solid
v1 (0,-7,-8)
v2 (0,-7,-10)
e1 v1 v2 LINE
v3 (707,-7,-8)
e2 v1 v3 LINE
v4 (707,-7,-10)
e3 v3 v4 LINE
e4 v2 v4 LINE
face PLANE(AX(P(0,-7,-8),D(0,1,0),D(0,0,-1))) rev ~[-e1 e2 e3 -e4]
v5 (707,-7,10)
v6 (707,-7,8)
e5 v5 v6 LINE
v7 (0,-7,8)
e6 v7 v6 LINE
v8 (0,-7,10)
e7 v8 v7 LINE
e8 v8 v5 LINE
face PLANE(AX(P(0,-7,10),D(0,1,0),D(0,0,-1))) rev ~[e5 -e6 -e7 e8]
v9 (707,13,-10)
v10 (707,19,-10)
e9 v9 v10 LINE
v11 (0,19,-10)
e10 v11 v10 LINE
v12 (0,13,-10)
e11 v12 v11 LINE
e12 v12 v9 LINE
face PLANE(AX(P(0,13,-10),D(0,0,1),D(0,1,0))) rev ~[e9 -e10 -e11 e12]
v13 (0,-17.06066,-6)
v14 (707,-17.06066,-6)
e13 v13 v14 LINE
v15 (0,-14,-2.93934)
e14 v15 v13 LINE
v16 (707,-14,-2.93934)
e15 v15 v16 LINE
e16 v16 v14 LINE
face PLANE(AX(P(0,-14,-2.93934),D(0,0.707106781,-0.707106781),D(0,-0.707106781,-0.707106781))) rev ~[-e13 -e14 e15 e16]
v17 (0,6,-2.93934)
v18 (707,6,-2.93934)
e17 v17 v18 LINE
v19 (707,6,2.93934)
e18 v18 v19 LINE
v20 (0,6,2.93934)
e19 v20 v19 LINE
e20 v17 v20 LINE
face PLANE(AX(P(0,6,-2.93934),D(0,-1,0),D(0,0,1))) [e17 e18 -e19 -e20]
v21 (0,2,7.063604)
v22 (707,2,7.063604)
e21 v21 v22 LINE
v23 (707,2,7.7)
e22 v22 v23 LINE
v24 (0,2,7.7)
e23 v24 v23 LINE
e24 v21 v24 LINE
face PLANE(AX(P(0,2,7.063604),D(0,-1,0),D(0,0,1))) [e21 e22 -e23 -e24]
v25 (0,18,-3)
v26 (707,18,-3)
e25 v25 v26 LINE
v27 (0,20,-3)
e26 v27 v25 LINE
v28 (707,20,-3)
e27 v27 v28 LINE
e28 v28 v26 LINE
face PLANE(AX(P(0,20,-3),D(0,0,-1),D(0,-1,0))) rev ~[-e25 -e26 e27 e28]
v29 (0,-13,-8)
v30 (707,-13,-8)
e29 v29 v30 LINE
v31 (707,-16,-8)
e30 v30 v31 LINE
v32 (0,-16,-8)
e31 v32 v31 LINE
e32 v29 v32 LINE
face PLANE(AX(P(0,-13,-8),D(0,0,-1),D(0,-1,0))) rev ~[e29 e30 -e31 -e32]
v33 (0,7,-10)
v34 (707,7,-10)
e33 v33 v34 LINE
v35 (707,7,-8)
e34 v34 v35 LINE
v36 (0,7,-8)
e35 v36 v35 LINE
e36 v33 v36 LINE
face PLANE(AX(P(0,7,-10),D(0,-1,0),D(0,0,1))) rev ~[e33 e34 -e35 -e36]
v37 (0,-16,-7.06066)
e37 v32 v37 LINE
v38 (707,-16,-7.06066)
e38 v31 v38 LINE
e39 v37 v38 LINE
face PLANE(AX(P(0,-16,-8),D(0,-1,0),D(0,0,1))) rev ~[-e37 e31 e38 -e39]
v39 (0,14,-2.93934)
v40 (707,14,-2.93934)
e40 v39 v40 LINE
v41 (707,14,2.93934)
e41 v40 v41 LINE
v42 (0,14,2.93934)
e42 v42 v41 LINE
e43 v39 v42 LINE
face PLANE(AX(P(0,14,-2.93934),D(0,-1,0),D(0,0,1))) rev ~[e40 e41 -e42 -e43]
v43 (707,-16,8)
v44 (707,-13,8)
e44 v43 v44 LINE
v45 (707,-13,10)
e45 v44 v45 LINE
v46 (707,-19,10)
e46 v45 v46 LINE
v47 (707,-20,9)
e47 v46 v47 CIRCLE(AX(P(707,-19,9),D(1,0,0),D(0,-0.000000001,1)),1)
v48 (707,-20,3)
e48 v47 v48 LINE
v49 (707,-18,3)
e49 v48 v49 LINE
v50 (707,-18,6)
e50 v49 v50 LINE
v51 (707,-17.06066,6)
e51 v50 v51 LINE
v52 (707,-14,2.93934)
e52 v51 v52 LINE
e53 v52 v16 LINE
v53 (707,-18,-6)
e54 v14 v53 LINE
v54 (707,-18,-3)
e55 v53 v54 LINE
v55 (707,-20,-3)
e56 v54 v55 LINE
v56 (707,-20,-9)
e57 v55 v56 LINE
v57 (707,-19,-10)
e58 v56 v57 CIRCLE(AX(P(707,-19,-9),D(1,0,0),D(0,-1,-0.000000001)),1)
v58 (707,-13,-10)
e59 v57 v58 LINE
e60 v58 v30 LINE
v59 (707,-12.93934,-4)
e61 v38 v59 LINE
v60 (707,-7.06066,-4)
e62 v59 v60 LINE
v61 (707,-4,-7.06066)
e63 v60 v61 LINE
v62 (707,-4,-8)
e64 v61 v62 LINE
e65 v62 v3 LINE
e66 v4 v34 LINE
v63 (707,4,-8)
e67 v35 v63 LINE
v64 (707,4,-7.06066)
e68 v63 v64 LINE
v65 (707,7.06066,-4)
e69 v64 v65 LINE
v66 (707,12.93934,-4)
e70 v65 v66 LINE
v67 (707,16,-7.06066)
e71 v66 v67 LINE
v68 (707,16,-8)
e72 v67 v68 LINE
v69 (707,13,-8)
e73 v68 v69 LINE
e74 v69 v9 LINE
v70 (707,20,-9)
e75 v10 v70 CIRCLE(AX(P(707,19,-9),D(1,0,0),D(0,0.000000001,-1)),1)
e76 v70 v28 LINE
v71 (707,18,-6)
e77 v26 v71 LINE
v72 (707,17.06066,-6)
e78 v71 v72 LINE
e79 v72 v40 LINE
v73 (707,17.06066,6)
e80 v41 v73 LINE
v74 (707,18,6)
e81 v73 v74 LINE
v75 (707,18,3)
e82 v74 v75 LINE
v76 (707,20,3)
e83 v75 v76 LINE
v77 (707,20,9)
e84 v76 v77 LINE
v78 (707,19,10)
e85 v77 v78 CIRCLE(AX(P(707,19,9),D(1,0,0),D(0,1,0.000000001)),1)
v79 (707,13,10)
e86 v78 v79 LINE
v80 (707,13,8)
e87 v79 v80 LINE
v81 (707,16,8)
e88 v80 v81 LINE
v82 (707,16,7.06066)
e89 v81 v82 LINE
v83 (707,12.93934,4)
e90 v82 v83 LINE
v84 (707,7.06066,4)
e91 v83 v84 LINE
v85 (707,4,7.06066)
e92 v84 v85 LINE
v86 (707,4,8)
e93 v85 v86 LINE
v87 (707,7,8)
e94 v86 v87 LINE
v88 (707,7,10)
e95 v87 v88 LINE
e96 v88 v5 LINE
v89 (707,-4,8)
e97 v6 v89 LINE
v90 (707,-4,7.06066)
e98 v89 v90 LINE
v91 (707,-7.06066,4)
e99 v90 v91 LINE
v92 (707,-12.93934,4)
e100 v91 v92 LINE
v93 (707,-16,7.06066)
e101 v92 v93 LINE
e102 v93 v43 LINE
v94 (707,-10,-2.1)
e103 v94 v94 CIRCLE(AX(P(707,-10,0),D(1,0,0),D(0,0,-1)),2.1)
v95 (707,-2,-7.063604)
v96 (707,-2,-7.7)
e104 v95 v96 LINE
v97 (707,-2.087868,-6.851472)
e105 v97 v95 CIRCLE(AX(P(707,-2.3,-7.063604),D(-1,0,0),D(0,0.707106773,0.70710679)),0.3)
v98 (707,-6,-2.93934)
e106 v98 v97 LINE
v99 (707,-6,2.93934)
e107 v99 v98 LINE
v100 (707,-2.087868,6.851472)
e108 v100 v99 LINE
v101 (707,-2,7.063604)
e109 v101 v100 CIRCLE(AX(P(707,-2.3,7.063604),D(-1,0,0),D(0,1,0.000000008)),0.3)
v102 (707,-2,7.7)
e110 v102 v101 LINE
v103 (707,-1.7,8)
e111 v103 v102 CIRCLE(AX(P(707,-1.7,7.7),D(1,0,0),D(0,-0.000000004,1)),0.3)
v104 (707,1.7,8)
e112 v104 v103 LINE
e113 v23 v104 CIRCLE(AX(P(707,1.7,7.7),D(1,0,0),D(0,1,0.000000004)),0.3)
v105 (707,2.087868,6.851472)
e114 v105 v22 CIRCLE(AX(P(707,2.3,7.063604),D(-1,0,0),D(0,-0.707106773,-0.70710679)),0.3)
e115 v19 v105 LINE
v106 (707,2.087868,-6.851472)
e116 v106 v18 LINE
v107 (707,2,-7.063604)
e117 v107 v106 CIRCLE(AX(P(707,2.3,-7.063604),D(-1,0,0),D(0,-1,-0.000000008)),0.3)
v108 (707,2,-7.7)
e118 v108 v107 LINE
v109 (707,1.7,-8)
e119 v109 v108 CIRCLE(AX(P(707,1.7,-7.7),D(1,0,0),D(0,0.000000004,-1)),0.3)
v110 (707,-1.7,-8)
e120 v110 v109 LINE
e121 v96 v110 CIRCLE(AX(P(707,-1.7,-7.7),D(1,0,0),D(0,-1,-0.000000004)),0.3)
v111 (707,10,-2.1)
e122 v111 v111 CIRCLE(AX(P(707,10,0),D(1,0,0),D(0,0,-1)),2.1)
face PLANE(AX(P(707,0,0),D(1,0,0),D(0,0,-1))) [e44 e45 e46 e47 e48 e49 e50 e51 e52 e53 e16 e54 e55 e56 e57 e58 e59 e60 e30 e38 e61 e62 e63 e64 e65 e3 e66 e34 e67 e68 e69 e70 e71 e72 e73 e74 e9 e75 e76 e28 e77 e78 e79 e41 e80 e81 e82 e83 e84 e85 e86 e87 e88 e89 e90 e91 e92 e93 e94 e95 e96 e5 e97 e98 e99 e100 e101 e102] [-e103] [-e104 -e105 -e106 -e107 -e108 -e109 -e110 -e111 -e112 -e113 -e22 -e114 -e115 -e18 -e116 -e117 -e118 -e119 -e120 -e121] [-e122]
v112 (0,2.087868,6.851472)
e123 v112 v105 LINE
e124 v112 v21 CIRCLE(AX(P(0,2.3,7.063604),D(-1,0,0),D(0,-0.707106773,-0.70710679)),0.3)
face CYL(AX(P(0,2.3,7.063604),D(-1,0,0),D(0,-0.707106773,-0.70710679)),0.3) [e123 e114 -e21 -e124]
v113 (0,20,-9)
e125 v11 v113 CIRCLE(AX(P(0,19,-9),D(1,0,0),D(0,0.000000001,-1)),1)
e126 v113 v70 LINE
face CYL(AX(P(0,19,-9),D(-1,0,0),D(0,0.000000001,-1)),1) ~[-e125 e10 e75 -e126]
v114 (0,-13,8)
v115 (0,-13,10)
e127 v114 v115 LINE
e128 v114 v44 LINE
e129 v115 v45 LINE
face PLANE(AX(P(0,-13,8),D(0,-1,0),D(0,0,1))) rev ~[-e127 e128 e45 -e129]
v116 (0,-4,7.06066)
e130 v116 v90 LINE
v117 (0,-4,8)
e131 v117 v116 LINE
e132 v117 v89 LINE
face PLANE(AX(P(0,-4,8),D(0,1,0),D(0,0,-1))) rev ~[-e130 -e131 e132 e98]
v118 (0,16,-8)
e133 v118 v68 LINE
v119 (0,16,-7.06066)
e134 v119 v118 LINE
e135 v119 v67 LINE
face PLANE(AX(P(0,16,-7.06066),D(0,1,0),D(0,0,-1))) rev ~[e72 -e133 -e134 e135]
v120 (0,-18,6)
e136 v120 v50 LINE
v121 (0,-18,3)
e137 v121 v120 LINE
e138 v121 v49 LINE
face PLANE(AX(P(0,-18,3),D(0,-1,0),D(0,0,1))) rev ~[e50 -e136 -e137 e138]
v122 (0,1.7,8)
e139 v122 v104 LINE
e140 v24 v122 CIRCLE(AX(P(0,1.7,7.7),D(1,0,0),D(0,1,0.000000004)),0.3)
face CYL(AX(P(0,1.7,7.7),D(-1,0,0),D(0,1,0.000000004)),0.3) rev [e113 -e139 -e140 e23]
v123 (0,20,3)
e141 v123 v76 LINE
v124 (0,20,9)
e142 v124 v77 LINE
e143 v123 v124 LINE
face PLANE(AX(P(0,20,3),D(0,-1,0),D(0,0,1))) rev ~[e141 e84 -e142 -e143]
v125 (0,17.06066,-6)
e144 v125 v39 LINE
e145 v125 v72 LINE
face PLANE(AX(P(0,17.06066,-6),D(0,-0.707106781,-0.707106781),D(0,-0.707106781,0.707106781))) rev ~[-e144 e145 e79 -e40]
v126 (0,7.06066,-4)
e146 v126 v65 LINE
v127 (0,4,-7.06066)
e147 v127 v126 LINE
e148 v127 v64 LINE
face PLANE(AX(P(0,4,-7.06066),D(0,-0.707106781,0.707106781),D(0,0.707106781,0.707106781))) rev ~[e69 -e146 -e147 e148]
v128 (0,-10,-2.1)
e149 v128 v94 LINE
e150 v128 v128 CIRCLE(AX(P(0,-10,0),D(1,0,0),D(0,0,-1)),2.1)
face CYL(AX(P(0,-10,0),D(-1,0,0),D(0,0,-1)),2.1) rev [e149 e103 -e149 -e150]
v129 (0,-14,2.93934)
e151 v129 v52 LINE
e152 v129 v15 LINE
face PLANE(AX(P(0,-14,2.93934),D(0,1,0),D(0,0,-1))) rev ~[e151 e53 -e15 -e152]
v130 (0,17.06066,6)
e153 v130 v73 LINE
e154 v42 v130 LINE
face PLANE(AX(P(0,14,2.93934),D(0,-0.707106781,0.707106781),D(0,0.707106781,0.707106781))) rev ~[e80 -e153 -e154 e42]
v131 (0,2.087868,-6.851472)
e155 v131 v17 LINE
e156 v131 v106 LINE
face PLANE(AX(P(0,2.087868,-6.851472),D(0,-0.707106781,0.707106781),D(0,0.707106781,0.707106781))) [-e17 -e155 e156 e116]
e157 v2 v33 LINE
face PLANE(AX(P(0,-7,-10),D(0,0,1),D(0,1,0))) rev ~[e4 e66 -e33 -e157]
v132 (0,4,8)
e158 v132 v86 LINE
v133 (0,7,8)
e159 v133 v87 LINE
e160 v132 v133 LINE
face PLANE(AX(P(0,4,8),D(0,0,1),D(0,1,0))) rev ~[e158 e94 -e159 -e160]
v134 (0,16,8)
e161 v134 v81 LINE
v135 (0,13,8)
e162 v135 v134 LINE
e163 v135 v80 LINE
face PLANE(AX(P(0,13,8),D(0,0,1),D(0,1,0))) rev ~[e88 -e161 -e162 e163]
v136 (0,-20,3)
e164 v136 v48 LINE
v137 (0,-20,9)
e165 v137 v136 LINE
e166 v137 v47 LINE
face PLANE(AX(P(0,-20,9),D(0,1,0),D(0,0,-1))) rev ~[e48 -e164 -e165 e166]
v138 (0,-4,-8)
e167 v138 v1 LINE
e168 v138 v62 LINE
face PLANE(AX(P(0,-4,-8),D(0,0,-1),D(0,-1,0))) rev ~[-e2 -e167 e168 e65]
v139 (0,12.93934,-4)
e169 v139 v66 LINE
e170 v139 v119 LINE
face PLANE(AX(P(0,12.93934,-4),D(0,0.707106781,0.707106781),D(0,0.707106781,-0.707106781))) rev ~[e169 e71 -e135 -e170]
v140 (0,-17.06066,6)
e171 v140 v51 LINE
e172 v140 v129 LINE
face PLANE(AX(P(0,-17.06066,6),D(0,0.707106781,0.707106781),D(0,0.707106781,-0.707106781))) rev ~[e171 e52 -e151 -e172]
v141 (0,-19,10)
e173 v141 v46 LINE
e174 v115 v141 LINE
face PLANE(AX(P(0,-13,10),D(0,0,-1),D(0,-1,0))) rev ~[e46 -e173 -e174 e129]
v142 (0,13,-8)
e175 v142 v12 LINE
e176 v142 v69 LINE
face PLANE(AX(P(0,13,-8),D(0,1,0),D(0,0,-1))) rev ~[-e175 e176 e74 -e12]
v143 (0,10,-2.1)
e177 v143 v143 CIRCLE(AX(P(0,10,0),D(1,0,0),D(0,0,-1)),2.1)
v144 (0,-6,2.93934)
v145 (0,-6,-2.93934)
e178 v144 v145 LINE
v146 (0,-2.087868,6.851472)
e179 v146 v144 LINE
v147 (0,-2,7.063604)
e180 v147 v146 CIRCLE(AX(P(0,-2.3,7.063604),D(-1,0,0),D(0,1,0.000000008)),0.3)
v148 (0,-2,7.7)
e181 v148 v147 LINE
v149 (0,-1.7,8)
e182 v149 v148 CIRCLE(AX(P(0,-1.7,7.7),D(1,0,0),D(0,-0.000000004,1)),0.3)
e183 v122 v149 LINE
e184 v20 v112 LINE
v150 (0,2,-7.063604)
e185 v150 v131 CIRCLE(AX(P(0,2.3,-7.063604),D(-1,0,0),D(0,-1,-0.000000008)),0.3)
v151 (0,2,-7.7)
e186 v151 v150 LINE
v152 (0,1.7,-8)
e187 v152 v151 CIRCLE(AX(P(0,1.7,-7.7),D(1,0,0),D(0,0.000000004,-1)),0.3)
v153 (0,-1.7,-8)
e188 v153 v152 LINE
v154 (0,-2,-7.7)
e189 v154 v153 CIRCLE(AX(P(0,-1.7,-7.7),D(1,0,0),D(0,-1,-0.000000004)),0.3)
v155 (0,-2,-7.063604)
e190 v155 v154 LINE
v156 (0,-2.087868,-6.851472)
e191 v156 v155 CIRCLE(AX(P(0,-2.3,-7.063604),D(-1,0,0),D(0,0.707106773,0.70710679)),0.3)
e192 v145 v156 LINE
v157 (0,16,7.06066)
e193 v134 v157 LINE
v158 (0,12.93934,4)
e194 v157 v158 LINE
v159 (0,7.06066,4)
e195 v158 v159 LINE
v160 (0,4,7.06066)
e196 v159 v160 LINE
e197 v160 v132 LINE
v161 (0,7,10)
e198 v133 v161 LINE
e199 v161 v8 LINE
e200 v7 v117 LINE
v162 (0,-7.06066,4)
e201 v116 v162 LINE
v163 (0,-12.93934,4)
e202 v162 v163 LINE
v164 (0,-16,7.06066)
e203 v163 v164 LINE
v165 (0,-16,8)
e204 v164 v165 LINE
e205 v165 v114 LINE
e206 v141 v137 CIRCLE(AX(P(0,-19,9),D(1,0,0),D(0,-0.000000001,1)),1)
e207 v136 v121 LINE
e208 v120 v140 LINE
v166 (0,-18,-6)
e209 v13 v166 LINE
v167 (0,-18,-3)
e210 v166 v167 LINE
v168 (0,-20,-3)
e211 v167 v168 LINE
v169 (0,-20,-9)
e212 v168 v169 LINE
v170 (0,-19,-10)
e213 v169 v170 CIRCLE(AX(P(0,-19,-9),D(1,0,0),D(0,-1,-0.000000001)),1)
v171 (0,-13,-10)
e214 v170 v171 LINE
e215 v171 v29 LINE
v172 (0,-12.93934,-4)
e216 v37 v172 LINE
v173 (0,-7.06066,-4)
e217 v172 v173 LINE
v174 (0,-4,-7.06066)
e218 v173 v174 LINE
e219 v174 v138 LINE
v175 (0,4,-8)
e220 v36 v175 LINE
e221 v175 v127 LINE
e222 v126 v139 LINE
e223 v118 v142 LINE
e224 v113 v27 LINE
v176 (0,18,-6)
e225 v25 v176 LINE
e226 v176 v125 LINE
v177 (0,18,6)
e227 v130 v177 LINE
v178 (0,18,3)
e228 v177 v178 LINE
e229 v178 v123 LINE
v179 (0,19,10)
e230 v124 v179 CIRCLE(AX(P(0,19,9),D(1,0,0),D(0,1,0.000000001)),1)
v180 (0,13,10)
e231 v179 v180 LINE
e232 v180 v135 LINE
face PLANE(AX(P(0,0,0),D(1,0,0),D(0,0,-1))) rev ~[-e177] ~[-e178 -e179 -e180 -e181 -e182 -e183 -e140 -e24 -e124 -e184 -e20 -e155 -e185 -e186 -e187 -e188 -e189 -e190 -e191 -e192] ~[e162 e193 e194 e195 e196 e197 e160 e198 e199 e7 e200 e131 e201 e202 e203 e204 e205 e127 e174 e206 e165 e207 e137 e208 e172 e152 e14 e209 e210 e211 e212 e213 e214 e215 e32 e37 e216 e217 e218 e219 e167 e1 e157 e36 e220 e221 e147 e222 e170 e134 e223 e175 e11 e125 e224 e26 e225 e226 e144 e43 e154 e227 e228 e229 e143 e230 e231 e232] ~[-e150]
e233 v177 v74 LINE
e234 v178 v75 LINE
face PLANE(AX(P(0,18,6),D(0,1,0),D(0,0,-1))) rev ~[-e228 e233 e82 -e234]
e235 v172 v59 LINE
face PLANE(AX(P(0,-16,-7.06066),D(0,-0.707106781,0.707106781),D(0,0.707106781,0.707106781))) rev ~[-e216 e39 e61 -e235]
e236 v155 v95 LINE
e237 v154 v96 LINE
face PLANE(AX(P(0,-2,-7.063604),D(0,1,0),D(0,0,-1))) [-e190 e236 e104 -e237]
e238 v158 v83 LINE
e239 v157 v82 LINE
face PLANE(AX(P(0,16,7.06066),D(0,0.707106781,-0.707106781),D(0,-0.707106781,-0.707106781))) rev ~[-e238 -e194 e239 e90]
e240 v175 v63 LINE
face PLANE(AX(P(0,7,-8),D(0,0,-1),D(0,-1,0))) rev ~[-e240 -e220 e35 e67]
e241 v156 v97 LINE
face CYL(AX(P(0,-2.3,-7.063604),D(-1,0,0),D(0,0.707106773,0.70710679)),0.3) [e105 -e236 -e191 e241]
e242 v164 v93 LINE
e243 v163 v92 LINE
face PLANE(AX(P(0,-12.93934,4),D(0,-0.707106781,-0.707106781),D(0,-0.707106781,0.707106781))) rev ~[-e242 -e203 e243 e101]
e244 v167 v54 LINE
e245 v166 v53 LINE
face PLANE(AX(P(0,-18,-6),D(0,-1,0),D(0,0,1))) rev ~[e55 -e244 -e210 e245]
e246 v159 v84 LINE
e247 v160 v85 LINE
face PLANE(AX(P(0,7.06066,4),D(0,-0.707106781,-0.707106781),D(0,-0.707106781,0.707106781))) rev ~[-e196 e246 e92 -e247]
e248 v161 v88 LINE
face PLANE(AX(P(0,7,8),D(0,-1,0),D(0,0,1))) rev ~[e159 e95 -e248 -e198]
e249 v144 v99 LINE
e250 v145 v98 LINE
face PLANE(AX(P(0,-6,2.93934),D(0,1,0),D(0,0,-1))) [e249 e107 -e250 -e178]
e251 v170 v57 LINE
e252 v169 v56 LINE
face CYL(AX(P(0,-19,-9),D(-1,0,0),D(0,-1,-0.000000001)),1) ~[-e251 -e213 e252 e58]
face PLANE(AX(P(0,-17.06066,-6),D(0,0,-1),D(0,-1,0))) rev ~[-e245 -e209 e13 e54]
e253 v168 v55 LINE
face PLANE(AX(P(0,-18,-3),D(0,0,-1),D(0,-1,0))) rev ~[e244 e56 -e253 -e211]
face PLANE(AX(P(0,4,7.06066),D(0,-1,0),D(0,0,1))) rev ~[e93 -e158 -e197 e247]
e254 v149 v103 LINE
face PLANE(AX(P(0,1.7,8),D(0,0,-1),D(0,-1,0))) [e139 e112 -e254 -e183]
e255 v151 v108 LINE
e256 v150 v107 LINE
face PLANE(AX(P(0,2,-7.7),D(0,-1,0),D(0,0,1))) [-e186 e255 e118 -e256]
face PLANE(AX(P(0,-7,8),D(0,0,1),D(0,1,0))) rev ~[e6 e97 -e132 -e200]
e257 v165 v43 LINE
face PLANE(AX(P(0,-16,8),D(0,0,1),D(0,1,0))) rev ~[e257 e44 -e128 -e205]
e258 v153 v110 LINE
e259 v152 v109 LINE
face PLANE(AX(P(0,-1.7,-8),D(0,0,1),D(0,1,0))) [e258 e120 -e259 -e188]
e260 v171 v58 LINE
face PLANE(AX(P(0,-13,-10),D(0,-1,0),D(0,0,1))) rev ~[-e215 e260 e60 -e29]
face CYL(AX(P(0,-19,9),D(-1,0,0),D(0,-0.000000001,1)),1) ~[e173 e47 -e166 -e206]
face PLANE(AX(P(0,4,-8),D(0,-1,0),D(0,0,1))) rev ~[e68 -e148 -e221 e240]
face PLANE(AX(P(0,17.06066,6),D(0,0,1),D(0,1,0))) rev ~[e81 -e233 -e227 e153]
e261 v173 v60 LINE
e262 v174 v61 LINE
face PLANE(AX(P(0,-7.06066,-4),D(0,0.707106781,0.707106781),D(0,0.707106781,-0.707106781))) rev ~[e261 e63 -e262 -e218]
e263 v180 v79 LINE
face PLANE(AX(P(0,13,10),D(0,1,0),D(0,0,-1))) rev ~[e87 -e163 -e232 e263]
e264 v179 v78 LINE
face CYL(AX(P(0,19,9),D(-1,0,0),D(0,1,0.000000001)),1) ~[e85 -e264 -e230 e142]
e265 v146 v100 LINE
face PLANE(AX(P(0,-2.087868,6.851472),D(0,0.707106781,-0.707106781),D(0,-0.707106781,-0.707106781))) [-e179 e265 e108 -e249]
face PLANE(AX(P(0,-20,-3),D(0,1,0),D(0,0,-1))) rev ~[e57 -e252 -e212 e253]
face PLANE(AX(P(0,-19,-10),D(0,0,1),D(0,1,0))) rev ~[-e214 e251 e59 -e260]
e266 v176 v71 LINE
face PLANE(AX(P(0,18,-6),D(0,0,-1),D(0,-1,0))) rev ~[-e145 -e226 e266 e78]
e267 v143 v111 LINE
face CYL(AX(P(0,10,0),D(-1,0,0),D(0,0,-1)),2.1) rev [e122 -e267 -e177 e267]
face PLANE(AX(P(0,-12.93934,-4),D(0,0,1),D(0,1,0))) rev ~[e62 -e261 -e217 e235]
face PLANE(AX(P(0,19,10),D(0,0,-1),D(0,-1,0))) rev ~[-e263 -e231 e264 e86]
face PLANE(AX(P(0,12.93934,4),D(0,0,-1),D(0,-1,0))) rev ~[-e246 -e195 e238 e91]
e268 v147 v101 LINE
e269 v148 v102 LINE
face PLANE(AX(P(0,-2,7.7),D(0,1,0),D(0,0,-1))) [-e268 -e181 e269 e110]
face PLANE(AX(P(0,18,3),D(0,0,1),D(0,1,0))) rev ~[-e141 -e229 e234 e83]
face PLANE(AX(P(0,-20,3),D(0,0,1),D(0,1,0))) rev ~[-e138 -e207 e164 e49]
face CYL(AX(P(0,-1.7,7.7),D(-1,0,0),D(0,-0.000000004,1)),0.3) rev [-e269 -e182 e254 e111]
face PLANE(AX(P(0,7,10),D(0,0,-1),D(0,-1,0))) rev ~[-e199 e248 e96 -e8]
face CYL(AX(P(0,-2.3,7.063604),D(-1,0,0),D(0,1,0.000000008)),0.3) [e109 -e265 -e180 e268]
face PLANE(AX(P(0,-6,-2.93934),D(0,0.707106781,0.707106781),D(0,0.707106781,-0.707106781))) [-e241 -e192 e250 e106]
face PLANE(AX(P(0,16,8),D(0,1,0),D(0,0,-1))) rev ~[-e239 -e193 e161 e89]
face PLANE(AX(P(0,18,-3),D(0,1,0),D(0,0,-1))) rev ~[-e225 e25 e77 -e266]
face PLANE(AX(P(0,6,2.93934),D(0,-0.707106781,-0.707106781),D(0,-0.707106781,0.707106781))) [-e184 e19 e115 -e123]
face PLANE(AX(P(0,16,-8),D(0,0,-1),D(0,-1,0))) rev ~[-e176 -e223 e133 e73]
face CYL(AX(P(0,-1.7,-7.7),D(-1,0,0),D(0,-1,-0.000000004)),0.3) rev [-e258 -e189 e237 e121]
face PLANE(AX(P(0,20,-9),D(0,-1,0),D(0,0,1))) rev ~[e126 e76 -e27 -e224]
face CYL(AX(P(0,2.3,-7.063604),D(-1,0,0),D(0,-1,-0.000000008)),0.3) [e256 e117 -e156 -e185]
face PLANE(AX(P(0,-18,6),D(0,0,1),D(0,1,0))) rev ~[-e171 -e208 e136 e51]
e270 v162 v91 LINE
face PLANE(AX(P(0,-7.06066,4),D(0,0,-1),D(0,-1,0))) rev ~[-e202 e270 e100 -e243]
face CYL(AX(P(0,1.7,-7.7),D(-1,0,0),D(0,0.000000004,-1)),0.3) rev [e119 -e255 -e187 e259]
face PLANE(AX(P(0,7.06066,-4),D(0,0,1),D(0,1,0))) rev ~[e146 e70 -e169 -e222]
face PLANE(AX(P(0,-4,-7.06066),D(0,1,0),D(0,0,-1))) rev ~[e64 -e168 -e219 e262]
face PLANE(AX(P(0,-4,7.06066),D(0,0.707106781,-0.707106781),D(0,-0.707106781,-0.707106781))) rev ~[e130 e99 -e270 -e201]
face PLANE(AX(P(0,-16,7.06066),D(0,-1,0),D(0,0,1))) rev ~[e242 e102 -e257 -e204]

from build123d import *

# Parameters (mm, degrees)
SKETCH1_R           = 2.1
BOSS_EXTRUDE1_DEPTH = 707


with BuildPart() as part:
    # Sketch1 → Boss-Extrude1 (new body)
    with BuildSketch(Plane(origin=(0, 0, 0), x_dir=(0, 0, -1), z_dir=(1, 0, 0))):
        with BuildLine():
            Line((-10, -13), (-10, -19))
            ThreePointArc((-10, -19), (-9.707106781, -19.707106781), (-9, -20))
            Line((-9, -20), (-3, -20))
            Line((-3, -20), (-3, -18))
            Line((-3, -18), (-6, -18))
            Line((-6, -18), (-6, -17.060660172))
            Line((-6, -17.060660172), (-2.939339828, -14))
            Line((-2.939339828, -14), (2.939339828, -14))
            Line((2.939339828, -14), (6, -17.060660172))
            Line((6, -17.060660172), (6, -18))
            Line((6, -18), (3, -18))
            Line((3, -18), (3, -20))
            Line((3, -20), (9, -20))
            ThreePointArc((9, -20), (9.707106781, -19.707106781), (10, -19))
            Line((10, -19), (10, -13))
            Line((10, -13), (8, -13))
            Line((8, -13), (8, -16))
            Line((8, -16), (7.060660172, -16))
            Line((7.060660172, -16), (4, -12.939339828))
            Line((4, -12.939339828), (4, -7.060660172))
            Line((4, -7.060660172), (7.060660172, -4))
            Line((7.060660172, -4), (8, -4))
            Line((8, -4), (8, -7))
            Line((8, -7), (10, -7))
            Line((10, -7), (10, 7))
            Line((10, 7), (8, 7))
            Line((8, 7), (8, 4))
            Line((8, 4), (7.060660172, 4))
            Line((7.060660172, 4), (4, 7.060660172))
            Line((4, 7.060660172), (4, 12.939339828))
            Line((4, 12.939339828), (7.060660172, 16))
            Line((7.060660172, 16), (8, 16))
            Line((8, 16), (8, 13))
            Line((8, 13), (10, 13))
            Line((10, 13), (10, 19))
            ThreePointArc((10, 19), (9.707106781, 19.707106781), (9, 20))
            Line((9, 20), (3, 20))
            Line((3, 20), (3, 18))
            Line((3, 18), (6, 18))
            Line((6, 18), (6, 17.060660172))
            Line((6, 17.060660172), (2.939339828, 14))
            Line((2.939339828, 14), (-2.939339828, 14))
            Line((-2.939339828, 14), (-6, 17.060660172))
            Line((-6, 17.060660172), (-6, 18))
            Line((-6, 18), (-3, 18))
            Line((-3, 18), (-3, 20))
            Line((-3, 20), (-9, 20))
            ThreePointArc((-9, 20), (-9.707106781, 19.707106781), (-10, 19))
            Line((-10, 19), (-10, 13))
            Line((-10, 13), (-8, 13))
            Line((-8, 13), (-8, 16))
            Line((-8, 16), (-7.060660172, 16))
            Line((-7.060660172, 16), (-4, 12.939339828))
            Line((-4, 12.939339828), (-4, 7.060660172))
            Line((-4, 7.060660172), (-7.060660172, 4))
            Line((-7.060660172, 4), (-8, 4))
            Line((-8, 4), (-8, 7))
            Line((-8, 7), (-10, 7))
            Line((-10, 7), (-10, -7))
            Line((-10, -7), (-8, -7))
            Line((-8, -7), (-8, -4))
            Line((-8, -4), (-7.060660172, -4))
            Line((-7.060660172, -4), (-4, -7.060660172))
            Line((-4, -7.060660172), (-4, -12.939339828))
            Line((-4, -12.939339828), (-7.060660172, -16))
            Line((-7.060660172, -16), (-8, -16))
            Line((-8, -16), (-8, -13))
            Line((-8, -13), (-10, -13))
        make_face()
        with Locations((0, 10)):
            Circle(SKETCH1_R, mode=Mode.SUBTRACT)
        with Locations((0, -10)):
            Circle(SKETCH1_R, mode=Mode.SUBTRACT)
        with BuildLine():
            Line((-8, 1.7), (-8, -1.7))
            ThreePointArc((-8, -1.7), (-7.912132034, -1.912132034), (-7.7, -2))
            Line((-7.7, -2), (-7.063603897, -2))
            ThreePointArc((-7.063603897, -2), (-6.948798867, -2.02283614), (-6.851471863, -2.087867966))
            Line((-6.851471863, -2.087867966), (-2.939339828, -6))
            Line((-2.939339828, -6), (2.939339828, -6))
            Line((2.939339828, -6), (6.851471863, -2.087867966))
            ThreePointArc((6.851471863, -2.087867966), (6.948798867, -2.02283614), (7.063603897, -2))
            Line((7.063603897, -2), (7.7, -2))
            ThreePointArc((7.7, -2), (7.912132034, -1.912132034), (8, -1.7))
            Line((8, -1.7), (8, 1.7))
            ThreePointArc((8, 1.7), (7.912132034, 1.912132034), (7.7, 2))
            Line((7.7, 2), (7.063603897, 2))
            ThreePointArc((7.063603897, 2), (6.948798867, 2.02283614), (6.851471863, 2.087867966))
            Line((6.851471863, 2.087867966), (2.939339828, 6))
            Line((2.939339828, 6), (-2.939339828, 6))
            Line((-2.939339828, 6), (-6.851471863, 2.087867966))
            ThreePointArc((-6.851471863, 2.087867966), (-6.948798867, 2.02283614), (-7.063603897, 2))
            Line((-7.063603897, 2), (-7.7, 2))
            ThreePointArc((-7.7, 2), (-7.912132034, 1.912132034), (-8, 1.7))
        make_face(mode=Mode.SUBTRACT)
    extrude(amount=BOSS_EXTRUDE1_DEPTH)


solid = part.part
